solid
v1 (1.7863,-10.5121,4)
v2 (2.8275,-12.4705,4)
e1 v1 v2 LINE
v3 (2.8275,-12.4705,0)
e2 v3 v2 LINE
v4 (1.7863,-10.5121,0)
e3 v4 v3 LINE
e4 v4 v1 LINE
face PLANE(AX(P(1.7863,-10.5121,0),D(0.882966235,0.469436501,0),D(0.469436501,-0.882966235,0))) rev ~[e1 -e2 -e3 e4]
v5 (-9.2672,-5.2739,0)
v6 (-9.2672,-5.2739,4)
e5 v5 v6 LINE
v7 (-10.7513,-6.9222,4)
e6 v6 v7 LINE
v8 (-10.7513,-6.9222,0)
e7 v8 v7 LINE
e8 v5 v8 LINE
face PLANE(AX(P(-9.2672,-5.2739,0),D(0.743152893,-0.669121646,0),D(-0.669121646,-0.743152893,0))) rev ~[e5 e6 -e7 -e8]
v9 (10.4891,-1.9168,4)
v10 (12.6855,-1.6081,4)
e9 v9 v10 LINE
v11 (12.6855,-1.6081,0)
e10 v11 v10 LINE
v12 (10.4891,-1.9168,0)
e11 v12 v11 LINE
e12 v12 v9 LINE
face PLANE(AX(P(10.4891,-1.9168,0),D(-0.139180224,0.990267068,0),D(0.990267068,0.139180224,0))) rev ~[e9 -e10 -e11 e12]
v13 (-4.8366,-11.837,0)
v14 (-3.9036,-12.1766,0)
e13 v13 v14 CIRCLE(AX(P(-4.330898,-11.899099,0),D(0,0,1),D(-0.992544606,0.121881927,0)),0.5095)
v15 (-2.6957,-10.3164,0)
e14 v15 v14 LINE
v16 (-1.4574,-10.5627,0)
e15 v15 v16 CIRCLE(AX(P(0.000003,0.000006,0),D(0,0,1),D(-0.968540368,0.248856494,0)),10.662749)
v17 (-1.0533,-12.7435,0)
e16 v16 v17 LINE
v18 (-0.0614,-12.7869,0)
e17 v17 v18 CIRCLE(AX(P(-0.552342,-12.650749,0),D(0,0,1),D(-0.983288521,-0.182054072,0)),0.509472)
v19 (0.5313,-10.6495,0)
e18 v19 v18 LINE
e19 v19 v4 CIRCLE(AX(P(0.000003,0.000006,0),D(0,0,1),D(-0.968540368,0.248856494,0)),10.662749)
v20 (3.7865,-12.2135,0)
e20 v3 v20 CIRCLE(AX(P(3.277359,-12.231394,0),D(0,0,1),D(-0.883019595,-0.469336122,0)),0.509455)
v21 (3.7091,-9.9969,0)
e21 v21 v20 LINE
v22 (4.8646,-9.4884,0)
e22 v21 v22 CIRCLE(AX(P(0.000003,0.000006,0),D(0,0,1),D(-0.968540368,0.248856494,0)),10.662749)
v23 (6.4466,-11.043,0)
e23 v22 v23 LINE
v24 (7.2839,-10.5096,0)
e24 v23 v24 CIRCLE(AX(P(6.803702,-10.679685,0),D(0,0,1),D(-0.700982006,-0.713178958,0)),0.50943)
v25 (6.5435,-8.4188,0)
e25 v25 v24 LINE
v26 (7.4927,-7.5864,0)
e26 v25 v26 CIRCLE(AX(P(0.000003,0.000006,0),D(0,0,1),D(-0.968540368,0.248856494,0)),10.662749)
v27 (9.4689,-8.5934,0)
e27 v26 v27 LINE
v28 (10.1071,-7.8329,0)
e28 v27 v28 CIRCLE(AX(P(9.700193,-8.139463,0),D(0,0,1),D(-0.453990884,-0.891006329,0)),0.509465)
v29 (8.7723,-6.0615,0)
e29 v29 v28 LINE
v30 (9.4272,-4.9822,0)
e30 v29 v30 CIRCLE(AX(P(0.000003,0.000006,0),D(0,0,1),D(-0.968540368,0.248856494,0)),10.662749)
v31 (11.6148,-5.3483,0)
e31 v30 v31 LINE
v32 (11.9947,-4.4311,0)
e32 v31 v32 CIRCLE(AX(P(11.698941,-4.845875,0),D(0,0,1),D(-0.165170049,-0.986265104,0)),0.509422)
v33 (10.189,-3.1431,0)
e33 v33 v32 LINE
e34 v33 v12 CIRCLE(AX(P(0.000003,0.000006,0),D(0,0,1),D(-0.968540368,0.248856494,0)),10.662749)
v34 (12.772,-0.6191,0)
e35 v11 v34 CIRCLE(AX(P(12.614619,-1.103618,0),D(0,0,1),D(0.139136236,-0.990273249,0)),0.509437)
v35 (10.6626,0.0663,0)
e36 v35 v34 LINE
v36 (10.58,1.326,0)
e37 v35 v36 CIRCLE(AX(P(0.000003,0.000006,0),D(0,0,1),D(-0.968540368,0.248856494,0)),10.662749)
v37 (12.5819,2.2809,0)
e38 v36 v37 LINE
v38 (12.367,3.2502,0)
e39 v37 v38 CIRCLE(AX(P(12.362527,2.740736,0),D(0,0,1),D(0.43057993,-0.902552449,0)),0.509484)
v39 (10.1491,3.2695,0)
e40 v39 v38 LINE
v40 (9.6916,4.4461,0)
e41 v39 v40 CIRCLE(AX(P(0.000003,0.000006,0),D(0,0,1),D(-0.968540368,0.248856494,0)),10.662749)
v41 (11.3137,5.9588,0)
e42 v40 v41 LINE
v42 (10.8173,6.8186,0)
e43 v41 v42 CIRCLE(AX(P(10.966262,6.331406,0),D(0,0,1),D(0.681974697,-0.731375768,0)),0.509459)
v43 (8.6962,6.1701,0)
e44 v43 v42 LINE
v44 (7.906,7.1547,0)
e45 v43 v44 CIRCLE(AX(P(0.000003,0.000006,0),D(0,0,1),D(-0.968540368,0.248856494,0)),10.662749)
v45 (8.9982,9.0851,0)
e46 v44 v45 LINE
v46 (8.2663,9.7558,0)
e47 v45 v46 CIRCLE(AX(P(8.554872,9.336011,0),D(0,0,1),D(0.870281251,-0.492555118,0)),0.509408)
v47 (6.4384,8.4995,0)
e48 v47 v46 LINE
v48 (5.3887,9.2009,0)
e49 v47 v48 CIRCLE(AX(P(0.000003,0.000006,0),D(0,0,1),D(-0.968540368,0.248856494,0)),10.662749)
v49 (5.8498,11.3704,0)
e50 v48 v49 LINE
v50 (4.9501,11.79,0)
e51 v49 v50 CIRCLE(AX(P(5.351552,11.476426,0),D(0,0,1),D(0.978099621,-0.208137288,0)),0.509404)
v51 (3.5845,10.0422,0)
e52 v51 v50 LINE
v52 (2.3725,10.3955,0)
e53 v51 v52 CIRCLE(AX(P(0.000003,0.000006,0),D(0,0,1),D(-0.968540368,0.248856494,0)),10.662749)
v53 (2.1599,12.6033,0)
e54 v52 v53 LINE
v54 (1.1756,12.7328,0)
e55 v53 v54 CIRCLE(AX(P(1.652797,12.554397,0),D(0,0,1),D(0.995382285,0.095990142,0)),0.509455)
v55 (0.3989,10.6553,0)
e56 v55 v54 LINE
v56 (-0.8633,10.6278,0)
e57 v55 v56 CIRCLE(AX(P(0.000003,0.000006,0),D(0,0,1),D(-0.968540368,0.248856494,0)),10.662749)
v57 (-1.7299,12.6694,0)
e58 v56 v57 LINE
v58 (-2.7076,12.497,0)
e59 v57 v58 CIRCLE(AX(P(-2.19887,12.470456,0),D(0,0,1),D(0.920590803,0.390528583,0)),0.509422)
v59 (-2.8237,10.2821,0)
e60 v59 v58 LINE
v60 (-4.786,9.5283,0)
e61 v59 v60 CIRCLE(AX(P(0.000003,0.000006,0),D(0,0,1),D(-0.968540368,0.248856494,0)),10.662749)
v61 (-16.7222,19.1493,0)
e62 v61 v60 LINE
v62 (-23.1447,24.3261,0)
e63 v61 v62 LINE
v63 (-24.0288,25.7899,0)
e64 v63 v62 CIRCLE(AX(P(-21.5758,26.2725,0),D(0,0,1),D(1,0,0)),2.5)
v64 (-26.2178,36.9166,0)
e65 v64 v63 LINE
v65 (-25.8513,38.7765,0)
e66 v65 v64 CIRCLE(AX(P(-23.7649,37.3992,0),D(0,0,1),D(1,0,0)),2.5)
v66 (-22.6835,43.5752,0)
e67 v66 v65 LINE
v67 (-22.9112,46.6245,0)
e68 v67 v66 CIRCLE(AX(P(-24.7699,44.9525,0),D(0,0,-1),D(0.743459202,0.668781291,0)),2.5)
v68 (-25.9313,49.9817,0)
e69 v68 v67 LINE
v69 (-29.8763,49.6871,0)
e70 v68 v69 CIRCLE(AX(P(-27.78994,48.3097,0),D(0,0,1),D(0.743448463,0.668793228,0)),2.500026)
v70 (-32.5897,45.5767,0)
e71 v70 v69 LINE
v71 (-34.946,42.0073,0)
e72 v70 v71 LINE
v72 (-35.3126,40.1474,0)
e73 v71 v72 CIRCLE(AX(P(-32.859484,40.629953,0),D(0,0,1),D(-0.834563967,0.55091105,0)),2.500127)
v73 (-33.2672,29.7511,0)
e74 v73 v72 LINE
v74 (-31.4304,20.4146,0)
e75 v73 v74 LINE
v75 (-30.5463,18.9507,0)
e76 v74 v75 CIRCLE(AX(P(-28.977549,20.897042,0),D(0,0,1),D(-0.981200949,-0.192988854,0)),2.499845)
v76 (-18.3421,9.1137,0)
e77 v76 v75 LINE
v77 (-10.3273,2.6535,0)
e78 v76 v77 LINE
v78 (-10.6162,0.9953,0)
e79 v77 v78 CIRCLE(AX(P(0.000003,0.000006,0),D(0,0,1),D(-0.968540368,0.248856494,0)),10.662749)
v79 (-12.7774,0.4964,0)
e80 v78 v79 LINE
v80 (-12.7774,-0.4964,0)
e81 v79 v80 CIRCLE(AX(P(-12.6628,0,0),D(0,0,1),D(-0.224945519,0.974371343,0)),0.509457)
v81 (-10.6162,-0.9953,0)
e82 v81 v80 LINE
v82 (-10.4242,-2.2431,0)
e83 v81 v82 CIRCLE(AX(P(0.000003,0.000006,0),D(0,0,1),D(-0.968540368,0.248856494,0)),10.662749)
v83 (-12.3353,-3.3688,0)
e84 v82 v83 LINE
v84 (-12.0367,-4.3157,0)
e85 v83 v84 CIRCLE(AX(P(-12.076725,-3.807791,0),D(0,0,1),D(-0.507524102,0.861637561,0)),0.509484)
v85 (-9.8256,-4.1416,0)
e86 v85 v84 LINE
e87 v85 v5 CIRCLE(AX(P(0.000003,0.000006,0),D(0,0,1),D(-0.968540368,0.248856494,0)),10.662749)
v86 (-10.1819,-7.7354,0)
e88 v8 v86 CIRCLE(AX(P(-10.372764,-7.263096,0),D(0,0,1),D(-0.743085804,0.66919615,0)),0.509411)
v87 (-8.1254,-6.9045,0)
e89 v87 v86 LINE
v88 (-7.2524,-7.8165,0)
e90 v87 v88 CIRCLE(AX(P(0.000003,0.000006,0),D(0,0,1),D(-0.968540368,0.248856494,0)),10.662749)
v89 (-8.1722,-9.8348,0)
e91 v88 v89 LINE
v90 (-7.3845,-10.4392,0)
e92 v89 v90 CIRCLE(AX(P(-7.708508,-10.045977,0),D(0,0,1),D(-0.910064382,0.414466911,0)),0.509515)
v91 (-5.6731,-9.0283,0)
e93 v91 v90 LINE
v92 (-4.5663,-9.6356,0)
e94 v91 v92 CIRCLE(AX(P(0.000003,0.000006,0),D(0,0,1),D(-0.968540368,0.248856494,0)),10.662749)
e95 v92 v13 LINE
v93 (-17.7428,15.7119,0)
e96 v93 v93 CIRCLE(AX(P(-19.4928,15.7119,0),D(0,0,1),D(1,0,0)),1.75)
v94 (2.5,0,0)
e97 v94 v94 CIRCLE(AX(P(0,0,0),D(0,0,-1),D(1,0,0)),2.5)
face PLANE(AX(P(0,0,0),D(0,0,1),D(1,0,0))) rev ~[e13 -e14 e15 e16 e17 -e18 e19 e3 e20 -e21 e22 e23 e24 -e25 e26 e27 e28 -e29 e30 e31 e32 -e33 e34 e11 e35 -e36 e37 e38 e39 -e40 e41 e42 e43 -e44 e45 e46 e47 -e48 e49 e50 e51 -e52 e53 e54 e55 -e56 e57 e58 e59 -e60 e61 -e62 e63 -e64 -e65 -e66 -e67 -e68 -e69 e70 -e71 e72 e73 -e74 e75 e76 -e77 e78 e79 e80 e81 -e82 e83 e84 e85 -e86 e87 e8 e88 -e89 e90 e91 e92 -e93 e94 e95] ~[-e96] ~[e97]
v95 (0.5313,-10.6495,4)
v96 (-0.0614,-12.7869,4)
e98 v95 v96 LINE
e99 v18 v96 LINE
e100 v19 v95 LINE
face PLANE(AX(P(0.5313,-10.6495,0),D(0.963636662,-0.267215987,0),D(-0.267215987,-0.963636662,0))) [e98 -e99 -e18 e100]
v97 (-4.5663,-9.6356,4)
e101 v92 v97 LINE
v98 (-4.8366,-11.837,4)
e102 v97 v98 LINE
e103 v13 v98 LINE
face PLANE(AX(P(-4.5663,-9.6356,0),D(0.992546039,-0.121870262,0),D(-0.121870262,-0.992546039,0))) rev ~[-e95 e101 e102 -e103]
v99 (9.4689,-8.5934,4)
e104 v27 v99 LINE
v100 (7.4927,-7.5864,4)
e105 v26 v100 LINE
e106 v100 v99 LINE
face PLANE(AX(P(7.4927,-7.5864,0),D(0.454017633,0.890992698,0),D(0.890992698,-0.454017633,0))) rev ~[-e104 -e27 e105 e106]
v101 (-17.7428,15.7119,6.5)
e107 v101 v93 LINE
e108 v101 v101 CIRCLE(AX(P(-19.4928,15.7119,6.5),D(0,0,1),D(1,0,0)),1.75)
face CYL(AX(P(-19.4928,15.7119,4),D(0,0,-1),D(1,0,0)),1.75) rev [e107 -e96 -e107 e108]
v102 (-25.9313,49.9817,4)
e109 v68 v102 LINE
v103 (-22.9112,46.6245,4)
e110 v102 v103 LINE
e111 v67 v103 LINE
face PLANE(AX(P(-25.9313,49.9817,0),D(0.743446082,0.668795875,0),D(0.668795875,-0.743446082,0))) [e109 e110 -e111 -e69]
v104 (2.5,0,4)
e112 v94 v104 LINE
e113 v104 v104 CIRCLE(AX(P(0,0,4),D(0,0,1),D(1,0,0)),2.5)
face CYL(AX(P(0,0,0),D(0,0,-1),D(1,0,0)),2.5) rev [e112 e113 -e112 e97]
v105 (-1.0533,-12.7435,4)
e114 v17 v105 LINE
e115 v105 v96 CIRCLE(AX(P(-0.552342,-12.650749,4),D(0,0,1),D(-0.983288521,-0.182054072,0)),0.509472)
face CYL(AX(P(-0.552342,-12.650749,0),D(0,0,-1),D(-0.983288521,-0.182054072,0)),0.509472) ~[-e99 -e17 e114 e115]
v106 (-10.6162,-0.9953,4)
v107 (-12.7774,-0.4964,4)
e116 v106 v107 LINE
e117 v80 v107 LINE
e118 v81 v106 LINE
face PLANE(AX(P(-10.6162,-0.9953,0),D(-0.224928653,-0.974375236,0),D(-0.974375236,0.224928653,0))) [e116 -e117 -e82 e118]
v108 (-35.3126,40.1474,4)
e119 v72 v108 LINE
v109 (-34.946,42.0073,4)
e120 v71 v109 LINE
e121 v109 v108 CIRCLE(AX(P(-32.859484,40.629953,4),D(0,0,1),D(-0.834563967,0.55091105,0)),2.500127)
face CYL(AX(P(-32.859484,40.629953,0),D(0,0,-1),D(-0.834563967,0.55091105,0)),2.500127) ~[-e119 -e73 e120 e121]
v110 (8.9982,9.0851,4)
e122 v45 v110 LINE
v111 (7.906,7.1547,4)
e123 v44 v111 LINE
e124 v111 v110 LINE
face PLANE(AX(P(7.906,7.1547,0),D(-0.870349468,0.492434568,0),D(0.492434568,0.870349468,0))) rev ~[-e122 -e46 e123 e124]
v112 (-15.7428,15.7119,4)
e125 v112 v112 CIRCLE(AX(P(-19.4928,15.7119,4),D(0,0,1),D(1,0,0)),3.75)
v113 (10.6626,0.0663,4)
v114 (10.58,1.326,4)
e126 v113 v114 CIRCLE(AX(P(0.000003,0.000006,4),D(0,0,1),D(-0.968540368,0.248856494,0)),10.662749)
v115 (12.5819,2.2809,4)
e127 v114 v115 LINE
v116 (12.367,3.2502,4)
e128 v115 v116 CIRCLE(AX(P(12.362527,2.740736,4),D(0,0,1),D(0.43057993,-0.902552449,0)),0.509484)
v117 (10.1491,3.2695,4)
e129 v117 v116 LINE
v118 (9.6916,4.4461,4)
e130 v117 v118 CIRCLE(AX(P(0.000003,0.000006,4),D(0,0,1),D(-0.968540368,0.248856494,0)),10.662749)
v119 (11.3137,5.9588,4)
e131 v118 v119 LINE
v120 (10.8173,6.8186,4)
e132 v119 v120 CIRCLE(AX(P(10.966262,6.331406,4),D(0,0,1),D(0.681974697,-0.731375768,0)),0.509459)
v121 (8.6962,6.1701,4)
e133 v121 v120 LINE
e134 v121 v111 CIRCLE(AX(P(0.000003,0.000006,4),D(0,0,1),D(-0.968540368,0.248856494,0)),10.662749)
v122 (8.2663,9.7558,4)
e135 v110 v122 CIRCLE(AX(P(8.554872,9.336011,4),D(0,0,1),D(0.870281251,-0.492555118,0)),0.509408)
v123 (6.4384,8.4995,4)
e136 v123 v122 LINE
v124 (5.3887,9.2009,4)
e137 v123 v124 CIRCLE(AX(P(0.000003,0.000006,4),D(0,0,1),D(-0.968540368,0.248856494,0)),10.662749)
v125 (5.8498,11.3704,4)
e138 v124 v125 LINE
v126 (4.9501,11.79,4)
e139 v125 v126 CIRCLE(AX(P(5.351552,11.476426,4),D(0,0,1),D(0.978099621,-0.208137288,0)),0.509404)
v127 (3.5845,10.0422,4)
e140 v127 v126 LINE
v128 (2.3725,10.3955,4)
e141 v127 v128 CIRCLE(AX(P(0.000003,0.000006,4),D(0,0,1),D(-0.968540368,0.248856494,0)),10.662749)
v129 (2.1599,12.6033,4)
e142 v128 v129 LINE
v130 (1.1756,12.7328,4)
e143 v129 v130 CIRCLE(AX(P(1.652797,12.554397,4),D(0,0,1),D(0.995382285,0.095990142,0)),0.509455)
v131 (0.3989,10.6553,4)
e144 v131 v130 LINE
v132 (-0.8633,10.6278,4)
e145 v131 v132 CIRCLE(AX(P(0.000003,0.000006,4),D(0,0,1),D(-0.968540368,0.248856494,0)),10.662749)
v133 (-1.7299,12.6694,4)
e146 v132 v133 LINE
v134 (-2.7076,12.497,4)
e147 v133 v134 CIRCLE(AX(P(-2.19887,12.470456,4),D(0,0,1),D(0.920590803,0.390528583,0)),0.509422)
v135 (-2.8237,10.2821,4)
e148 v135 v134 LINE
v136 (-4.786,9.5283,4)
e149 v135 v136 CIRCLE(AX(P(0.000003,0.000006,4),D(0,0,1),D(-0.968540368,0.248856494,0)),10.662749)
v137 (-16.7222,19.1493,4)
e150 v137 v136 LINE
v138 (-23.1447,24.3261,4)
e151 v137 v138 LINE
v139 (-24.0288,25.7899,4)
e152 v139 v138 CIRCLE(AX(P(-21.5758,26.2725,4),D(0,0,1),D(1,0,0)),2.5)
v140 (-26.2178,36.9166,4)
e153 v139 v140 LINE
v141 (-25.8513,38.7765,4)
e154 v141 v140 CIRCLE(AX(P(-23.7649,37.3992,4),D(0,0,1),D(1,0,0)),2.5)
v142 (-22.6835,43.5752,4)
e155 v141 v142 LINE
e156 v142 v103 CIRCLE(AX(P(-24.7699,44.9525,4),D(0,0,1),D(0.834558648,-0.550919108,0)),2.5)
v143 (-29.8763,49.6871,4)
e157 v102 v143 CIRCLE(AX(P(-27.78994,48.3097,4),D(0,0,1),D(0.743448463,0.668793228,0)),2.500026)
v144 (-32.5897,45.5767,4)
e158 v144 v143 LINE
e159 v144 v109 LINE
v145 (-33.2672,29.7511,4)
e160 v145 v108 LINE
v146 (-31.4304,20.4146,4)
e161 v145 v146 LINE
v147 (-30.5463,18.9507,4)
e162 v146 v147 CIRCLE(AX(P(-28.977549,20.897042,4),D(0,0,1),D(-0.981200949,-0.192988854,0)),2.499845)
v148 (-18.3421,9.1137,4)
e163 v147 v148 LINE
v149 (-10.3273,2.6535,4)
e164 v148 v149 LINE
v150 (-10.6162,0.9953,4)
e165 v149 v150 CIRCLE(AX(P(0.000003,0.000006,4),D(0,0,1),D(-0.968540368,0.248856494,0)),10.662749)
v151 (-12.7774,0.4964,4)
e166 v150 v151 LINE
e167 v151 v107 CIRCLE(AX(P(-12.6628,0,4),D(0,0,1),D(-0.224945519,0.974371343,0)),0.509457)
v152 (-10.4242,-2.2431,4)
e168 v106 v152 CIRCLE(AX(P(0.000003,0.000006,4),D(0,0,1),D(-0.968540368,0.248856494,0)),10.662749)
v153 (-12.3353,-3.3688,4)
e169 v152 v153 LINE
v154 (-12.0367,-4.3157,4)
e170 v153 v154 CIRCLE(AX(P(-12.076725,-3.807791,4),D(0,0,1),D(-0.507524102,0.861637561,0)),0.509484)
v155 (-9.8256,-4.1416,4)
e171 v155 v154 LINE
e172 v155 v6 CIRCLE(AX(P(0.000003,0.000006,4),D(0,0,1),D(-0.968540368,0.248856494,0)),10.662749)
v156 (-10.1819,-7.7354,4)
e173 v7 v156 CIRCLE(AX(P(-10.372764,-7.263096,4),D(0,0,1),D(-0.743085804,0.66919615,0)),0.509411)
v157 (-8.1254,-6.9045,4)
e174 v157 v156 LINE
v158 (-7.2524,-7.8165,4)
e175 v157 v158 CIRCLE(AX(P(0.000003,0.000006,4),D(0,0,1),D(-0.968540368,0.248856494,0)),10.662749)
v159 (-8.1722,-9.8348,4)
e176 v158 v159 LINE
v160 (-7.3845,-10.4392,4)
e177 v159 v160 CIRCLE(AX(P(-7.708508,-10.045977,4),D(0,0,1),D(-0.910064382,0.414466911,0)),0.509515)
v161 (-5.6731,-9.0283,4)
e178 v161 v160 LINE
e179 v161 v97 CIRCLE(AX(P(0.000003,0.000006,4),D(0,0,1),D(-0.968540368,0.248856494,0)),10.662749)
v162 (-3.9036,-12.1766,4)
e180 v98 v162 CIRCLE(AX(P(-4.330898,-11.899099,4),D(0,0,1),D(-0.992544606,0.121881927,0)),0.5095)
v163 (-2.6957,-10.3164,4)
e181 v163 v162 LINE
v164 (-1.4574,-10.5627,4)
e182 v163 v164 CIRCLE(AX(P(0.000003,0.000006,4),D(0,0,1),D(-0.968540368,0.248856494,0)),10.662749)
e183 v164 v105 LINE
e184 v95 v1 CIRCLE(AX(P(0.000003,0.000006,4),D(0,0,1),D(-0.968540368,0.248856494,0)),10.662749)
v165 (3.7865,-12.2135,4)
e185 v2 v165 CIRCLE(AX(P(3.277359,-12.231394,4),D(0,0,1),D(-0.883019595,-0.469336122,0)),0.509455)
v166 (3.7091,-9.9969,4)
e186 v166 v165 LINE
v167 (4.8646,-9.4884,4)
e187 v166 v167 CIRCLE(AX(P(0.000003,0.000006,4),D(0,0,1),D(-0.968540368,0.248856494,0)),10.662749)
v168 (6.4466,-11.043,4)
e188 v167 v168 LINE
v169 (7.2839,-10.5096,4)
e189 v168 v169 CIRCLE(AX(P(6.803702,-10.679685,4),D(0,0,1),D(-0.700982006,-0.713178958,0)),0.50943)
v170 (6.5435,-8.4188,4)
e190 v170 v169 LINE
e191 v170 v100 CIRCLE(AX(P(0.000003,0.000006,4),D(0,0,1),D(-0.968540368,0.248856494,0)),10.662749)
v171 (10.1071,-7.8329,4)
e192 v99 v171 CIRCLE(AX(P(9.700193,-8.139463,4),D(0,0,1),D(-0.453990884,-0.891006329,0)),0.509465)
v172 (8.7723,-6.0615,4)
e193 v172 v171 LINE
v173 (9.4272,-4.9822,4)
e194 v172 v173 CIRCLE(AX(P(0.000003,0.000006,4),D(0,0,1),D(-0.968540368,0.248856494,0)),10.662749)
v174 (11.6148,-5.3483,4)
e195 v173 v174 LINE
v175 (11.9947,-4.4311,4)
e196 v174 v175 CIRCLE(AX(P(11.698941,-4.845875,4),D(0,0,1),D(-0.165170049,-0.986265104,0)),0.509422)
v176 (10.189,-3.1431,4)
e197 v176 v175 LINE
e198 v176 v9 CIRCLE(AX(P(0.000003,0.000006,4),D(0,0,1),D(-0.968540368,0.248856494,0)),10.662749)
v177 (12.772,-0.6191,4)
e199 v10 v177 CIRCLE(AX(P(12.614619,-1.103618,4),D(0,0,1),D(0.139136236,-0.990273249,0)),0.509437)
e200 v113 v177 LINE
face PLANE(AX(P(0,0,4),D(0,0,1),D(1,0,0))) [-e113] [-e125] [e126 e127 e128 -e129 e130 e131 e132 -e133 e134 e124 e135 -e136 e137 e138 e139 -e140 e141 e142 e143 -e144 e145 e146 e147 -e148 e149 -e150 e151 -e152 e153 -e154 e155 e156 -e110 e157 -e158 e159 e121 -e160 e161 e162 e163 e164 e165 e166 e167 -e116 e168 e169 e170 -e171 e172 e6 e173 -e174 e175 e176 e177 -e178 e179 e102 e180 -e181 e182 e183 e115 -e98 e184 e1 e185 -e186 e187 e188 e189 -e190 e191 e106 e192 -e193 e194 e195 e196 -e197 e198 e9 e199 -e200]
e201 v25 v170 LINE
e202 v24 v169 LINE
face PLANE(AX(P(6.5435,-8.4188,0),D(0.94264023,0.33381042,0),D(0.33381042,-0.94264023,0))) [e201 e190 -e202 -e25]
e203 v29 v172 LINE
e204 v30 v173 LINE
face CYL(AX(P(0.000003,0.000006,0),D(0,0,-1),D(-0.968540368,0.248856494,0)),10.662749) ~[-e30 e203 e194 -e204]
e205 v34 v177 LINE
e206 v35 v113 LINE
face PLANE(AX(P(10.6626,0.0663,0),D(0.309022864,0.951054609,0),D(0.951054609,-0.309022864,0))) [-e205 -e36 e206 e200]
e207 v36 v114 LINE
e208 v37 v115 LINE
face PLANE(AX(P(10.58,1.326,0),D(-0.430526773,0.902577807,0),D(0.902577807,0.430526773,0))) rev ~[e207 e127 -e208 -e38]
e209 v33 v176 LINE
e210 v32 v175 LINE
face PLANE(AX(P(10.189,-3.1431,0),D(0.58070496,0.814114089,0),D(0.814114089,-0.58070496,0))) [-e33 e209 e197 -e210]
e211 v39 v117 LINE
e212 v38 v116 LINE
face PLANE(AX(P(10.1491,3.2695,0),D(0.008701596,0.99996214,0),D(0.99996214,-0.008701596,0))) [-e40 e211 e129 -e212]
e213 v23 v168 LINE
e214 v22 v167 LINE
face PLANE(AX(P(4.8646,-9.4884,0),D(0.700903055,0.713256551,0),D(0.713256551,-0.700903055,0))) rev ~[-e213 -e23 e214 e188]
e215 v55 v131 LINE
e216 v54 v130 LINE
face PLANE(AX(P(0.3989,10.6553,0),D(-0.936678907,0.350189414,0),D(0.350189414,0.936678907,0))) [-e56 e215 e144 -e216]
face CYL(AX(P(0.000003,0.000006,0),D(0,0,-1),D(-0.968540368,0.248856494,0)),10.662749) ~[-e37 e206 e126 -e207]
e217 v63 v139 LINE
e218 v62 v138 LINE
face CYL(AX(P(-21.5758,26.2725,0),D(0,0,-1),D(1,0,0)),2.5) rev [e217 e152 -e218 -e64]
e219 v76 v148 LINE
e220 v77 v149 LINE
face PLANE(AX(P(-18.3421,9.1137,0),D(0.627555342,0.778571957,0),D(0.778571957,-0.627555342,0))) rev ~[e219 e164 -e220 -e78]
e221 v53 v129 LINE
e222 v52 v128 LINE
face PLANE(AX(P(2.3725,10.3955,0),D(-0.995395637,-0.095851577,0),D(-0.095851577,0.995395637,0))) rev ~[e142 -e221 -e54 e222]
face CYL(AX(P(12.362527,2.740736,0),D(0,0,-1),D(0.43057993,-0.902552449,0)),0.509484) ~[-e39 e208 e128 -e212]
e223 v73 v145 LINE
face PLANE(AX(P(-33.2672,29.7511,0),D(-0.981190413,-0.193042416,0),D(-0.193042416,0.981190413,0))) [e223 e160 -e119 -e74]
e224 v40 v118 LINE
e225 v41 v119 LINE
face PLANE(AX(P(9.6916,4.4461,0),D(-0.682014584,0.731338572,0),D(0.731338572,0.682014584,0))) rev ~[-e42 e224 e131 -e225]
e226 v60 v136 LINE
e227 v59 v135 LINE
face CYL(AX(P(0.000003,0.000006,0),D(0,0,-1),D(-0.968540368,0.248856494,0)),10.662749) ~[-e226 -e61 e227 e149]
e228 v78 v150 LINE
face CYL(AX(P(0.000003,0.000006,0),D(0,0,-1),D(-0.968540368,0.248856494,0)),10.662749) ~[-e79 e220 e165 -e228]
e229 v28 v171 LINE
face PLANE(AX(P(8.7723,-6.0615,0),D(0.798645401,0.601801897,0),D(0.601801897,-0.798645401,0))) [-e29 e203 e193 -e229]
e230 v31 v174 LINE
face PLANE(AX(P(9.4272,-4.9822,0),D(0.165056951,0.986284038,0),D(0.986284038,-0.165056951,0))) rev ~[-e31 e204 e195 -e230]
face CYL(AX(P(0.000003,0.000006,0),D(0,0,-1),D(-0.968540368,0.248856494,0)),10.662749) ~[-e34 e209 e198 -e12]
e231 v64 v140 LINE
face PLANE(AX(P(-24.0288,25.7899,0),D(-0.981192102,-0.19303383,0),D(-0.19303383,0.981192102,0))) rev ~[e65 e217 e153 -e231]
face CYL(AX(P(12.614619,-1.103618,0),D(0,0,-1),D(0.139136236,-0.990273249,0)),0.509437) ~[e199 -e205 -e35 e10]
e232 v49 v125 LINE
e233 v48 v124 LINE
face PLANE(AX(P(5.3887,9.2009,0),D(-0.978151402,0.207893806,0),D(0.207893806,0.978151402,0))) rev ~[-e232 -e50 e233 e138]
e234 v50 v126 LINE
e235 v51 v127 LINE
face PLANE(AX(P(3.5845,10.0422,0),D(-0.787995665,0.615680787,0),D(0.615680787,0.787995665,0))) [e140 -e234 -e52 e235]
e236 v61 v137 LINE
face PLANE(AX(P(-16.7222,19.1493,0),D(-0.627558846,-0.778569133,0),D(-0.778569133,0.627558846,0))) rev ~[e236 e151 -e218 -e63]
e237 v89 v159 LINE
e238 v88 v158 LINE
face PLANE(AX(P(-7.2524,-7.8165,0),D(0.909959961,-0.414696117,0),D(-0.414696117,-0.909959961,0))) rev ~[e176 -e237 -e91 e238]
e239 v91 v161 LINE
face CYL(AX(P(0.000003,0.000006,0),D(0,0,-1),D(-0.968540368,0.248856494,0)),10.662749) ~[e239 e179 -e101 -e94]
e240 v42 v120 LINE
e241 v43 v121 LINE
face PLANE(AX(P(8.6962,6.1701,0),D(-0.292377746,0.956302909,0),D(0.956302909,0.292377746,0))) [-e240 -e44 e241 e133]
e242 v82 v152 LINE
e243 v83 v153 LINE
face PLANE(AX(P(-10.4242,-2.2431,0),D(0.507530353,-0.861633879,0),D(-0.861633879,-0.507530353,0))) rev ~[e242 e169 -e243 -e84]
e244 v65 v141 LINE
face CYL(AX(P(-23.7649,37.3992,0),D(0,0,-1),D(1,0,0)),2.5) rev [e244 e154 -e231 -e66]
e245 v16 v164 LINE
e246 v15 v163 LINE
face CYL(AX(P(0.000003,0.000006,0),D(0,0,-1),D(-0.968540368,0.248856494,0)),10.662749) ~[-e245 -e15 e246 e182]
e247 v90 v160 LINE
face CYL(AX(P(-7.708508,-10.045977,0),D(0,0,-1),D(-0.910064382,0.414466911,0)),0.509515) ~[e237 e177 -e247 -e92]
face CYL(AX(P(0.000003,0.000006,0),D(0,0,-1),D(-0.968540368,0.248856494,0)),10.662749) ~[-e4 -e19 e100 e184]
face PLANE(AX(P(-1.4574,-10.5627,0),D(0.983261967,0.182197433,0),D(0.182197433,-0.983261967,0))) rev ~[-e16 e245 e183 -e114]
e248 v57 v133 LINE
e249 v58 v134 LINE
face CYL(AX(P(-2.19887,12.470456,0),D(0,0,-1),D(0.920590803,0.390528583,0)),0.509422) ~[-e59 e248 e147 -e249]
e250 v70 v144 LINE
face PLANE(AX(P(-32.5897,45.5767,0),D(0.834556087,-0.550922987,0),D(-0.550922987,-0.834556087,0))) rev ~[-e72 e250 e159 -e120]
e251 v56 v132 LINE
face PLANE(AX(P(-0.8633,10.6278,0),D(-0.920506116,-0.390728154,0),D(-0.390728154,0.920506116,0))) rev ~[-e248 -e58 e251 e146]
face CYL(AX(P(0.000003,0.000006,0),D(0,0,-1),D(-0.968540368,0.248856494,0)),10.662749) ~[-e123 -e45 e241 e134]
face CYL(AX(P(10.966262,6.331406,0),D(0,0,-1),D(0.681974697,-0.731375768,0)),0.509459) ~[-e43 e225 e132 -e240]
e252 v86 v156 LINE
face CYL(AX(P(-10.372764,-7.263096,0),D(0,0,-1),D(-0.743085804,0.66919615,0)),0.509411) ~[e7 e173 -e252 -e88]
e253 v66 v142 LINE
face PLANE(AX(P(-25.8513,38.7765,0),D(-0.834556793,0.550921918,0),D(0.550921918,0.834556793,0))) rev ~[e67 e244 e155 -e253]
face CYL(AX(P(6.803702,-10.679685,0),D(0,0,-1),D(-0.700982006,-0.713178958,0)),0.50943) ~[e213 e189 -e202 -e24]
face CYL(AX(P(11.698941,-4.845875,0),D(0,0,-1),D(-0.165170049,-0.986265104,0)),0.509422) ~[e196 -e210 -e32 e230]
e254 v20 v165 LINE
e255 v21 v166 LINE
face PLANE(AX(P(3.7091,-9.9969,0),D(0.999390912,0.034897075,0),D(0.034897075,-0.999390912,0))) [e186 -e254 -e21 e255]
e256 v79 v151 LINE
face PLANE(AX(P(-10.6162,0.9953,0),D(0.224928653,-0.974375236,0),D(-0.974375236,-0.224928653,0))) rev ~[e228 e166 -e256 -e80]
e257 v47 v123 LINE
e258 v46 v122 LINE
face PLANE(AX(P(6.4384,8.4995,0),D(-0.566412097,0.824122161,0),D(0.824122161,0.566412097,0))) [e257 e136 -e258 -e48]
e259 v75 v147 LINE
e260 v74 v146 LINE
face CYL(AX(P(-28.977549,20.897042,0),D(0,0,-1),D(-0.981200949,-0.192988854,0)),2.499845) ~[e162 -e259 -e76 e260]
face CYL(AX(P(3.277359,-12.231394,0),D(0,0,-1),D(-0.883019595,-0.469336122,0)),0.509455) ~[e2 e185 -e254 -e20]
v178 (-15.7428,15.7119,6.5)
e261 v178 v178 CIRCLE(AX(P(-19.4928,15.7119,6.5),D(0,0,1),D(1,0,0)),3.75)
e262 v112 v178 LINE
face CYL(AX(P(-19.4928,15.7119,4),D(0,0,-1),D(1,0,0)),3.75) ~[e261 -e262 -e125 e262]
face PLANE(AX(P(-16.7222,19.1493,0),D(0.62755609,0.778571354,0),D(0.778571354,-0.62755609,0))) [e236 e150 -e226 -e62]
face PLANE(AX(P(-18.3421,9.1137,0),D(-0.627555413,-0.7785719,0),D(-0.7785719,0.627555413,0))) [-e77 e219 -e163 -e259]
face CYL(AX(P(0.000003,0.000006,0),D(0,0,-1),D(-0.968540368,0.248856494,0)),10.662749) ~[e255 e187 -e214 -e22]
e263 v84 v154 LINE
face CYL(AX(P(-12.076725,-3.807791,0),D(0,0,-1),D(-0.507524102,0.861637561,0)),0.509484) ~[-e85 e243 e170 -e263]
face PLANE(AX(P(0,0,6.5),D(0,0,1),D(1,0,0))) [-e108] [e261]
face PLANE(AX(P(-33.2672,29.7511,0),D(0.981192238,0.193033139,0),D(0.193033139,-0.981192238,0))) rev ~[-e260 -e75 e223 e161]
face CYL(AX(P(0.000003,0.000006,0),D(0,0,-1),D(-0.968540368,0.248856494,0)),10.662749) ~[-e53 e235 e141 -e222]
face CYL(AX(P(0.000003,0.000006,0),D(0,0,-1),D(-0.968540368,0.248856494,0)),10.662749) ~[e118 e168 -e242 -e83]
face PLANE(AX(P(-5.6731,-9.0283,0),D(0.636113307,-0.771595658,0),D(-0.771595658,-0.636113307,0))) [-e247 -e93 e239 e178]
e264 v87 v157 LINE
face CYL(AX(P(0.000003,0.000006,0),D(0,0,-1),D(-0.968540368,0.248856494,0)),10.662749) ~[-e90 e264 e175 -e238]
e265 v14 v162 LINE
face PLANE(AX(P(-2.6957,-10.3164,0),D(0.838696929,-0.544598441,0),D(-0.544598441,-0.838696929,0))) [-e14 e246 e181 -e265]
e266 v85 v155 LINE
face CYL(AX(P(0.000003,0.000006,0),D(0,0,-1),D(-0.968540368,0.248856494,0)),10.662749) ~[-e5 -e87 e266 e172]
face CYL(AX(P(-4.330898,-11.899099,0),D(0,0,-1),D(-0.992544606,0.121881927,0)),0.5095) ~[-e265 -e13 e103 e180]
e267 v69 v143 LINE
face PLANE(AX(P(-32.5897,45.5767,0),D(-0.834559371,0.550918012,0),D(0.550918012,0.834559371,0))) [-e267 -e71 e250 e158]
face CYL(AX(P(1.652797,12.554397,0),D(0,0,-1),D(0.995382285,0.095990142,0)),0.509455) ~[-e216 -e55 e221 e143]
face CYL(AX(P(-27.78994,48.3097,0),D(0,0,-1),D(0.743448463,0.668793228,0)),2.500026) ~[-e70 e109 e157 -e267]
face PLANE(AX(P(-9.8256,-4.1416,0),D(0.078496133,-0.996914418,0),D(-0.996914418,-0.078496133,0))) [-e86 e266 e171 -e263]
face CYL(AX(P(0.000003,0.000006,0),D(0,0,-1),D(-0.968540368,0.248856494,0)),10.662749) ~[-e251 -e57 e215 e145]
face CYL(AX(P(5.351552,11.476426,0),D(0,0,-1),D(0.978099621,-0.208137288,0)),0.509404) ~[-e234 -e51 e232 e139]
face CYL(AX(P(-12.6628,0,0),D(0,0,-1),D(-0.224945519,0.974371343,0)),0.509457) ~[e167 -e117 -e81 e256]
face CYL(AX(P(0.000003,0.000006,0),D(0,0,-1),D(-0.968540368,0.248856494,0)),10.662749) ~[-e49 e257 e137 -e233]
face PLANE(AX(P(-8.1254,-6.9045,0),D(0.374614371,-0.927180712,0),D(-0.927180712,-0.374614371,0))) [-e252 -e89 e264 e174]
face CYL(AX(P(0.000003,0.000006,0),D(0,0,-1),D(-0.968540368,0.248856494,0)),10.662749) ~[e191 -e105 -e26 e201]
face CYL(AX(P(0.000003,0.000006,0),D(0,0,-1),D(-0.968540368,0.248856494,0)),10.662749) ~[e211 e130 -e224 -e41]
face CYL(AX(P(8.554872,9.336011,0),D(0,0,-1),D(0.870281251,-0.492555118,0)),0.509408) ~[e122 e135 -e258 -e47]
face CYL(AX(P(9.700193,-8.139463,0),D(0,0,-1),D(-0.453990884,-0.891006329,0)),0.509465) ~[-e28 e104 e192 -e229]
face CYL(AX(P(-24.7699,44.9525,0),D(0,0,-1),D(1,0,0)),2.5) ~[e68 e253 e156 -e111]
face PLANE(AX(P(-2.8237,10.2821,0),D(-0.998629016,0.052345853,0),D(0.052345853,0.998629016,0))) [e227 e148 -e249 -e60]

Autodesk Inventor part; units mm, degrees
ref_plane "YZ Plane" through (0, 0, 0) normal (1, 0, 0) x (0, 1, 0)
ref_plane "XZ Plane" through (0, 0, 0) normal (0, 1, 0) x (-1, 0, 0)
ref_plane "XY Plane" through (0, 0, 0) normal (0, 0, 1) x (1, 0, 0)
sketch "Sketch1" plane through (0, 0, 0) normal (0, 0, 1) x (1, 0, 0)
  circle A0 centre (0, 0) radius 2.5
  line L0 (0, 0) -> (-15.5714, 12.5511)
  line L1 (0, 0) -> (20, 0) construction
  line L2 (-15.5714, 12.5511) -> (-18.3421, 9.1137)
  line L3 (0, 0) -> (-10.3273, 2.6535)
  line L4 (0, 0) -> (26.0413, 0) construction
  line L5 (-18.3421, 9.1137) -> (-10.3273, 2.6535)
  line L6 (-23.1447, 24.3261) -> (-21.5758, 26.2725)
  circle A1 centre (-21.5758, 26.2725) radius 2.5
  line L7 (-23.6708, 23.9703) -> (-17.7415, 23.9703) construction
  line L8 (-24.0288, 25.7899) -> (-26.2178, 36.9166)
  line L9 (-24.0288, 25.7899) -> (-12.6888, 25.7899) construction
  line L10 (-26.2178, 36.9166) -> (-23.7649, 37.3992)
  circle A2 centre (-23.7649, 37.3992) radius 2.5
  line L11 (-26.2069, 38.2378) -> (-20.9991, 38.2378) construction
  line L12 (-25.8513, 38.7765) -> (-22.6835, 43.5752)
  line L13 (-25.8513, 38.7765) -> (-20.1013, 38.7765) construction
  line L14 (-22.6835, 43.5752) -> (-24.7699, 44.9525)
  circle A3 centre (-24.7699, 44.9525) radius 2.5
  line L15 (0, 0) -> (60, 0) construction
  line L16 (-25.9313, 49.9817) -> (-22.9112, 46.6245)
  line L17 (-24.7699, 40.4146) -> (-32.5897, 45.5767)
  line L18 (-32.5897, 45.5767) -> (-29.8763, 49.6871)
  line L19 (-32.5897, 45.5767) -> (-34.946, 42.0073)
  line L20 (-25.1233, 31.3533) -> (-33.2672, 29.7511)
  line L21 (-33.2672, 29.7511) -> (-35.3126, 40.1474)
  line L22 (-33.2672, 29.7511) -> (-31.4304, 20.4146)
  line L23 (-18.3421, 9.1137) -> (-30.5463, 18.9507)
  line L24 (-16.7222, 19.1493) -> (-22.2635, 12.2745)
  arc A4 (-10.3273, 2.6535) -> (-4.786, 9.5283) centre (0, 0) ccw
  arc A5 (-25.9313, 49.9817) -> (-29.8763, 49.6871) centre (-27.7899, 48.3098) ccw
  arc A6 (-34.946, 42.0073) -> (-35.3126, 40.1474) centre (-32.8596, 40.63) ccw
  arc A7 (-31.4304, 20.4146) -> (-30.5463, 18.9507) centre (-28.9774, 20.8971) ccw
  line L25 (-16.7222, 19.1493) -> (-23.1447, 24.3261)
  line L26 (-16.7222, 19.1493) -> (-4.786, 9.5283)
  circle A8 centre (-19.4928, 15.7119) radius 1.75
  line L27 (0, 0) -> (-10.6628, 0)
  line L28 (-4.786, 9.5283) -> (0, 0)
  arc A9 (-12.7774, 0.4964) -> (-12.7774, -0.4964) centre (-12.6628, 0) ccw
  line L29 (-10.6628, 0) -> (-10.1628, 0)
  line L30 (-10.6162, 0.9953) -> (-12.7774, 0.4964)
  line L31 (-10.6162, -0.9953) -> (-12.7774, -0.4964)
  line L32 (-10.4242, -2.2431) -> (-12.3353, -3.3688)
  line L33 (-9.8256, -4.1416) -> (-12.0367, -4.3157)
  arc A10 (-12.3353, -3.3688) -> (-12.0367, -4.3157) centre (-12.0767, -3.8078) ccw
  line L34 (-9.2672, -5.2739) -> (-10.7513, -6.9222)
  line L35 (-8.1254, -6.9045) -> (-10.1819, -7.7354)
  arc A11 (-10.7513, -6.9222) -> (-10.1819, -7.7354) centre (-10.3727, -7.2631) ccw
  line L36 (-7.2524, -7.8165) -> (-8.1722, -9.8348)
  line L37 (-5.6731, -9.0283) -> (-7.3845, -10.4392)
  arc A12 (-8.1722, -9.8348) -> (-7.3845, -10.4392) centre (-7.7086, -10.046) ccw
  line L38 (-4.5663, -9.6356) -> (-4.8366, -11.837)
  line L39 (-2.6957, -10.3164) -> (-3.9036, -12.1766)
  arc A13 (-4.8366, -11.837) -> (-3.9036, -12.1766) centre (-4.3309, -11.8991) ccw
  line L40 (-1.4574, -10.5627) -> (-1.0533, -12.7435)
  line L41 (0.5313, -10.6495) -> (-0.0614, -12.7869)
  arc A14 (-1.0533, -12.7435) -> (-0.0614, -12.7869) centre (-0.5523, -12.6507) ccw
  line L42 (1.7863, -10.5121) -> (2.8275, -12.4705)
  line L43 (3.7091, -9.9969) -> (3.7865, -12.2135)
  arc A15 (2.8275, -12.4705) -> (3.7865, -12.2135) centre (3.2774, -12.2313) ccw
  line L44 (4.8646, -9.4884) -> (6.4466, -11.043)
  line L45 (6.5435, -8.4188) -> (7.2839, -10.5096)
  arc A16 (6.4466, -11.043) -> (7.2839, -10.5096) centre (6.8037, -10.6797) ccw
  line L46 (7.4927, -7.5864) -> (9.4689, -8.5934)
  line L47 (8.7723, -6.0615) -> (10.1071, -7.8329)
  arc A17 (9.4689, -8.5934) -> (10.1071, -7.8329) centre (9.7002, -8.1395) ccw
  line L48 (9.4272, -4.9822) -> (11.6148, -5.3483)
  line L49 (10.189, -3.1431) -> (11.9947, -4.4311)
  arc A18 (11.6148, -5.3483) -> (11.9947, -4.4311) centre (11.6989, -4.8458) ccw
  line L50 (10.4891, -1.9168) -> (12.6855, -1.6081)
  line L51 (10.6626, 0.0663) -> (12.772, -0.6191)
  arc A19 (12.6855, -1.6081) -> (12.772, -0.6191) centre (12.6146, -1.1036) ccw
  line L52 (10.58, 1.326) -> (12.5819, 2.2809)
  line L53 (10.1491, 3.2695) -> (12.367, 3.2502)
  arc A20 (12.5819, 2.2809) -> (12.367, 3.2502) centre (12.3626, 2.7407) ccw
  line L54 (9.6916, 4.4461) -> (11.3137, 5.9588)
  line L55 (8.6962, 6.1701) -> (10.8173, 6.8186)
  arc A21 (11.3137, 5.9588) -> (10.8173, 6.8186) centre (10.9663, 6.3314) ccw
  line L56 (7.906, 7.1547) -> (8.9982, 9.0851)
  line L57 (6.4384, 8.4995) -> (8.2663, 9.7558)
  arc A22 (8.9982, 9.0851) -> (8.2663, 9.7558) centre (8.5548, 9.336) ccw
  line L58 (5.3887, 9.2009) -> (5.8498, 11.3704)
  line L59 (3.5845, 10.0422) -> (4.9501, 11.79)
  arc A23 (5.8498, 11.3704) -> (4.9501, 11.79) centre (5.3515, 11.4764) ccw
  line L60 (2.3725, 10.3955) -> (2.1599, 12.6033)
  line L61 (0.3989, 10.6553) -> (1.1756, 12.7328)
  arc A24 (2.1599, 12.6033) -> (1.1756, 12.7328) centre (1.6528, 12.5544) ccw
  line L62 (-0.8633, 10.6278) -> (-1.7299, 12.6694)
  line L63 (-2.8237, 10.2821) -> (-2.7076, 12.497)
  arc A25 (-1.7299, 12.6694) -> (-2.7076, 12.497) centre (-2.1989, 12.4704) ccw
  point P0 (-10.1693, -3.2064)
  point P1 (-8.7344, -6.1159)
  point P2 (-6.4911, -8.4593)
  point P3 (-3.6469, -10.0197)
  point P4 (-0.4651, -10.6526)
  point P5 (2.7597, -10.2994)
  point P6 (5.7291, -8.9929)
  point P7 (8.1681, -6.8539)
  point P8 (9.8511, -4.0805)
  point P9 (10.6222, -0.9293)
  point P10 (10.41, 2.3078)
  point P11 (9.2342, 5.3314)
  point P12 (7.2037, 7.8614)
  point P13 (4.5063, 9.6637)
  point P14 (1.3918, 10.5715)
  point P15 (-1.8516, 10.5008)
  dimension "d0" = 5
  dimension "d1" = 20
  dimension "d2" = 141.13
  dimension "d3" = 4.415
  dimension "d4" = 165.59
  dimension "d6" = 10.2942
  dimension "d8" = 2.5
  dimension "d11" = 11.34
  dimension "d13" = 101.13
  dimension "d14" = 2.5
  dimension "d16" = 5.75
  dimension "d17" = 56.57
  dimension "d18" = 2.5
  dimension "d22" = 9.37
  dimension "d23" = 8.3
  dimension "d25" = 8.83
  dimension "d26" = 2.5
  dimension "d27" = 3.5
  dimension "d34" = 63.33
  dimension "d41" = 0.5
  dimension "d46" = 280
extrude "Extrusion1" add sketch "Sketch1" along normal blind 4 contours A0 L28 A4 L27 | A0 L0 L2 L23 L24 A8 L26 L28 | L27 A4 L3 A0 | A0 L3 L5 L2 L0 | L63 A25 L62 A4 | L24 A8 L23 A7 L22 L20 L8 A1 L25 | A4 L31 A9 L30 | L61 A24 L60 A4 | A4 L33 A10 L32 | L20 L21 A6 L19 L17 L12 A2 L8 | L59 A23 L58 A4 | A4 L35 A11 L34 | L57 A22 L56 A4 | L17 L18 A5 L16 A3 L12 | A4 L37 A12 L36 | A3 | L55 A21 L54 A4 | A4 L39 A13 L38 | L53 A20 L52 A4 | A4 L41 A14 L40 | L51 A19 L50 A4 | A4 L43 A15 L42 | L49 A18 L48 A4 | A4 L45 A16 L44 | L47 A17 L46 A4
sketch "Sketch2" plane through (0, 0, 4) normal (0, 0, 1) x (1, 0, 0)
  circle A0 centre (-19.4928, 15.7119) radius 1.75 projected
  circle A1 centre (-19.4928, 15.7119) radius 1.75
  circle A2 centre (-19.4928, 15.7119) radius 3.75
  point P0 (0, 0)
  dimension "d50" = 7.5
extrude "Extrusion2" add sketch "Sketch2" along normal blind 2.5
sketch "Sketch3" plane through (0, 0, 4) normal (0, 0, 1) x (1, 0, 0)
  circle A0 centre (0, 0) radius 2.5 projected
  arc A1 (3.5845, 10.0422) -> (2.3725, 10.3955) centre (0, 0) ccw projected
  arc A2 (6.4384, 8.4995) -> (5.3887, 9.2009) centre (0, 0) ccw projected
  line L0 (3.5845, 10.0422) -> (5.3887, 9.2009)
  arc A3 (5.8498, 11.3704) -> (4.9501, 11.79) centre (5.3515, 11.4764) ccw projected
  line L1 (4.4866, 9.6215) -> (5.3515, 11.4764)
  dimension "d53" = 1.9906
  dimension "d54" = 2.0466
properties part number "Servo pinza 2"
